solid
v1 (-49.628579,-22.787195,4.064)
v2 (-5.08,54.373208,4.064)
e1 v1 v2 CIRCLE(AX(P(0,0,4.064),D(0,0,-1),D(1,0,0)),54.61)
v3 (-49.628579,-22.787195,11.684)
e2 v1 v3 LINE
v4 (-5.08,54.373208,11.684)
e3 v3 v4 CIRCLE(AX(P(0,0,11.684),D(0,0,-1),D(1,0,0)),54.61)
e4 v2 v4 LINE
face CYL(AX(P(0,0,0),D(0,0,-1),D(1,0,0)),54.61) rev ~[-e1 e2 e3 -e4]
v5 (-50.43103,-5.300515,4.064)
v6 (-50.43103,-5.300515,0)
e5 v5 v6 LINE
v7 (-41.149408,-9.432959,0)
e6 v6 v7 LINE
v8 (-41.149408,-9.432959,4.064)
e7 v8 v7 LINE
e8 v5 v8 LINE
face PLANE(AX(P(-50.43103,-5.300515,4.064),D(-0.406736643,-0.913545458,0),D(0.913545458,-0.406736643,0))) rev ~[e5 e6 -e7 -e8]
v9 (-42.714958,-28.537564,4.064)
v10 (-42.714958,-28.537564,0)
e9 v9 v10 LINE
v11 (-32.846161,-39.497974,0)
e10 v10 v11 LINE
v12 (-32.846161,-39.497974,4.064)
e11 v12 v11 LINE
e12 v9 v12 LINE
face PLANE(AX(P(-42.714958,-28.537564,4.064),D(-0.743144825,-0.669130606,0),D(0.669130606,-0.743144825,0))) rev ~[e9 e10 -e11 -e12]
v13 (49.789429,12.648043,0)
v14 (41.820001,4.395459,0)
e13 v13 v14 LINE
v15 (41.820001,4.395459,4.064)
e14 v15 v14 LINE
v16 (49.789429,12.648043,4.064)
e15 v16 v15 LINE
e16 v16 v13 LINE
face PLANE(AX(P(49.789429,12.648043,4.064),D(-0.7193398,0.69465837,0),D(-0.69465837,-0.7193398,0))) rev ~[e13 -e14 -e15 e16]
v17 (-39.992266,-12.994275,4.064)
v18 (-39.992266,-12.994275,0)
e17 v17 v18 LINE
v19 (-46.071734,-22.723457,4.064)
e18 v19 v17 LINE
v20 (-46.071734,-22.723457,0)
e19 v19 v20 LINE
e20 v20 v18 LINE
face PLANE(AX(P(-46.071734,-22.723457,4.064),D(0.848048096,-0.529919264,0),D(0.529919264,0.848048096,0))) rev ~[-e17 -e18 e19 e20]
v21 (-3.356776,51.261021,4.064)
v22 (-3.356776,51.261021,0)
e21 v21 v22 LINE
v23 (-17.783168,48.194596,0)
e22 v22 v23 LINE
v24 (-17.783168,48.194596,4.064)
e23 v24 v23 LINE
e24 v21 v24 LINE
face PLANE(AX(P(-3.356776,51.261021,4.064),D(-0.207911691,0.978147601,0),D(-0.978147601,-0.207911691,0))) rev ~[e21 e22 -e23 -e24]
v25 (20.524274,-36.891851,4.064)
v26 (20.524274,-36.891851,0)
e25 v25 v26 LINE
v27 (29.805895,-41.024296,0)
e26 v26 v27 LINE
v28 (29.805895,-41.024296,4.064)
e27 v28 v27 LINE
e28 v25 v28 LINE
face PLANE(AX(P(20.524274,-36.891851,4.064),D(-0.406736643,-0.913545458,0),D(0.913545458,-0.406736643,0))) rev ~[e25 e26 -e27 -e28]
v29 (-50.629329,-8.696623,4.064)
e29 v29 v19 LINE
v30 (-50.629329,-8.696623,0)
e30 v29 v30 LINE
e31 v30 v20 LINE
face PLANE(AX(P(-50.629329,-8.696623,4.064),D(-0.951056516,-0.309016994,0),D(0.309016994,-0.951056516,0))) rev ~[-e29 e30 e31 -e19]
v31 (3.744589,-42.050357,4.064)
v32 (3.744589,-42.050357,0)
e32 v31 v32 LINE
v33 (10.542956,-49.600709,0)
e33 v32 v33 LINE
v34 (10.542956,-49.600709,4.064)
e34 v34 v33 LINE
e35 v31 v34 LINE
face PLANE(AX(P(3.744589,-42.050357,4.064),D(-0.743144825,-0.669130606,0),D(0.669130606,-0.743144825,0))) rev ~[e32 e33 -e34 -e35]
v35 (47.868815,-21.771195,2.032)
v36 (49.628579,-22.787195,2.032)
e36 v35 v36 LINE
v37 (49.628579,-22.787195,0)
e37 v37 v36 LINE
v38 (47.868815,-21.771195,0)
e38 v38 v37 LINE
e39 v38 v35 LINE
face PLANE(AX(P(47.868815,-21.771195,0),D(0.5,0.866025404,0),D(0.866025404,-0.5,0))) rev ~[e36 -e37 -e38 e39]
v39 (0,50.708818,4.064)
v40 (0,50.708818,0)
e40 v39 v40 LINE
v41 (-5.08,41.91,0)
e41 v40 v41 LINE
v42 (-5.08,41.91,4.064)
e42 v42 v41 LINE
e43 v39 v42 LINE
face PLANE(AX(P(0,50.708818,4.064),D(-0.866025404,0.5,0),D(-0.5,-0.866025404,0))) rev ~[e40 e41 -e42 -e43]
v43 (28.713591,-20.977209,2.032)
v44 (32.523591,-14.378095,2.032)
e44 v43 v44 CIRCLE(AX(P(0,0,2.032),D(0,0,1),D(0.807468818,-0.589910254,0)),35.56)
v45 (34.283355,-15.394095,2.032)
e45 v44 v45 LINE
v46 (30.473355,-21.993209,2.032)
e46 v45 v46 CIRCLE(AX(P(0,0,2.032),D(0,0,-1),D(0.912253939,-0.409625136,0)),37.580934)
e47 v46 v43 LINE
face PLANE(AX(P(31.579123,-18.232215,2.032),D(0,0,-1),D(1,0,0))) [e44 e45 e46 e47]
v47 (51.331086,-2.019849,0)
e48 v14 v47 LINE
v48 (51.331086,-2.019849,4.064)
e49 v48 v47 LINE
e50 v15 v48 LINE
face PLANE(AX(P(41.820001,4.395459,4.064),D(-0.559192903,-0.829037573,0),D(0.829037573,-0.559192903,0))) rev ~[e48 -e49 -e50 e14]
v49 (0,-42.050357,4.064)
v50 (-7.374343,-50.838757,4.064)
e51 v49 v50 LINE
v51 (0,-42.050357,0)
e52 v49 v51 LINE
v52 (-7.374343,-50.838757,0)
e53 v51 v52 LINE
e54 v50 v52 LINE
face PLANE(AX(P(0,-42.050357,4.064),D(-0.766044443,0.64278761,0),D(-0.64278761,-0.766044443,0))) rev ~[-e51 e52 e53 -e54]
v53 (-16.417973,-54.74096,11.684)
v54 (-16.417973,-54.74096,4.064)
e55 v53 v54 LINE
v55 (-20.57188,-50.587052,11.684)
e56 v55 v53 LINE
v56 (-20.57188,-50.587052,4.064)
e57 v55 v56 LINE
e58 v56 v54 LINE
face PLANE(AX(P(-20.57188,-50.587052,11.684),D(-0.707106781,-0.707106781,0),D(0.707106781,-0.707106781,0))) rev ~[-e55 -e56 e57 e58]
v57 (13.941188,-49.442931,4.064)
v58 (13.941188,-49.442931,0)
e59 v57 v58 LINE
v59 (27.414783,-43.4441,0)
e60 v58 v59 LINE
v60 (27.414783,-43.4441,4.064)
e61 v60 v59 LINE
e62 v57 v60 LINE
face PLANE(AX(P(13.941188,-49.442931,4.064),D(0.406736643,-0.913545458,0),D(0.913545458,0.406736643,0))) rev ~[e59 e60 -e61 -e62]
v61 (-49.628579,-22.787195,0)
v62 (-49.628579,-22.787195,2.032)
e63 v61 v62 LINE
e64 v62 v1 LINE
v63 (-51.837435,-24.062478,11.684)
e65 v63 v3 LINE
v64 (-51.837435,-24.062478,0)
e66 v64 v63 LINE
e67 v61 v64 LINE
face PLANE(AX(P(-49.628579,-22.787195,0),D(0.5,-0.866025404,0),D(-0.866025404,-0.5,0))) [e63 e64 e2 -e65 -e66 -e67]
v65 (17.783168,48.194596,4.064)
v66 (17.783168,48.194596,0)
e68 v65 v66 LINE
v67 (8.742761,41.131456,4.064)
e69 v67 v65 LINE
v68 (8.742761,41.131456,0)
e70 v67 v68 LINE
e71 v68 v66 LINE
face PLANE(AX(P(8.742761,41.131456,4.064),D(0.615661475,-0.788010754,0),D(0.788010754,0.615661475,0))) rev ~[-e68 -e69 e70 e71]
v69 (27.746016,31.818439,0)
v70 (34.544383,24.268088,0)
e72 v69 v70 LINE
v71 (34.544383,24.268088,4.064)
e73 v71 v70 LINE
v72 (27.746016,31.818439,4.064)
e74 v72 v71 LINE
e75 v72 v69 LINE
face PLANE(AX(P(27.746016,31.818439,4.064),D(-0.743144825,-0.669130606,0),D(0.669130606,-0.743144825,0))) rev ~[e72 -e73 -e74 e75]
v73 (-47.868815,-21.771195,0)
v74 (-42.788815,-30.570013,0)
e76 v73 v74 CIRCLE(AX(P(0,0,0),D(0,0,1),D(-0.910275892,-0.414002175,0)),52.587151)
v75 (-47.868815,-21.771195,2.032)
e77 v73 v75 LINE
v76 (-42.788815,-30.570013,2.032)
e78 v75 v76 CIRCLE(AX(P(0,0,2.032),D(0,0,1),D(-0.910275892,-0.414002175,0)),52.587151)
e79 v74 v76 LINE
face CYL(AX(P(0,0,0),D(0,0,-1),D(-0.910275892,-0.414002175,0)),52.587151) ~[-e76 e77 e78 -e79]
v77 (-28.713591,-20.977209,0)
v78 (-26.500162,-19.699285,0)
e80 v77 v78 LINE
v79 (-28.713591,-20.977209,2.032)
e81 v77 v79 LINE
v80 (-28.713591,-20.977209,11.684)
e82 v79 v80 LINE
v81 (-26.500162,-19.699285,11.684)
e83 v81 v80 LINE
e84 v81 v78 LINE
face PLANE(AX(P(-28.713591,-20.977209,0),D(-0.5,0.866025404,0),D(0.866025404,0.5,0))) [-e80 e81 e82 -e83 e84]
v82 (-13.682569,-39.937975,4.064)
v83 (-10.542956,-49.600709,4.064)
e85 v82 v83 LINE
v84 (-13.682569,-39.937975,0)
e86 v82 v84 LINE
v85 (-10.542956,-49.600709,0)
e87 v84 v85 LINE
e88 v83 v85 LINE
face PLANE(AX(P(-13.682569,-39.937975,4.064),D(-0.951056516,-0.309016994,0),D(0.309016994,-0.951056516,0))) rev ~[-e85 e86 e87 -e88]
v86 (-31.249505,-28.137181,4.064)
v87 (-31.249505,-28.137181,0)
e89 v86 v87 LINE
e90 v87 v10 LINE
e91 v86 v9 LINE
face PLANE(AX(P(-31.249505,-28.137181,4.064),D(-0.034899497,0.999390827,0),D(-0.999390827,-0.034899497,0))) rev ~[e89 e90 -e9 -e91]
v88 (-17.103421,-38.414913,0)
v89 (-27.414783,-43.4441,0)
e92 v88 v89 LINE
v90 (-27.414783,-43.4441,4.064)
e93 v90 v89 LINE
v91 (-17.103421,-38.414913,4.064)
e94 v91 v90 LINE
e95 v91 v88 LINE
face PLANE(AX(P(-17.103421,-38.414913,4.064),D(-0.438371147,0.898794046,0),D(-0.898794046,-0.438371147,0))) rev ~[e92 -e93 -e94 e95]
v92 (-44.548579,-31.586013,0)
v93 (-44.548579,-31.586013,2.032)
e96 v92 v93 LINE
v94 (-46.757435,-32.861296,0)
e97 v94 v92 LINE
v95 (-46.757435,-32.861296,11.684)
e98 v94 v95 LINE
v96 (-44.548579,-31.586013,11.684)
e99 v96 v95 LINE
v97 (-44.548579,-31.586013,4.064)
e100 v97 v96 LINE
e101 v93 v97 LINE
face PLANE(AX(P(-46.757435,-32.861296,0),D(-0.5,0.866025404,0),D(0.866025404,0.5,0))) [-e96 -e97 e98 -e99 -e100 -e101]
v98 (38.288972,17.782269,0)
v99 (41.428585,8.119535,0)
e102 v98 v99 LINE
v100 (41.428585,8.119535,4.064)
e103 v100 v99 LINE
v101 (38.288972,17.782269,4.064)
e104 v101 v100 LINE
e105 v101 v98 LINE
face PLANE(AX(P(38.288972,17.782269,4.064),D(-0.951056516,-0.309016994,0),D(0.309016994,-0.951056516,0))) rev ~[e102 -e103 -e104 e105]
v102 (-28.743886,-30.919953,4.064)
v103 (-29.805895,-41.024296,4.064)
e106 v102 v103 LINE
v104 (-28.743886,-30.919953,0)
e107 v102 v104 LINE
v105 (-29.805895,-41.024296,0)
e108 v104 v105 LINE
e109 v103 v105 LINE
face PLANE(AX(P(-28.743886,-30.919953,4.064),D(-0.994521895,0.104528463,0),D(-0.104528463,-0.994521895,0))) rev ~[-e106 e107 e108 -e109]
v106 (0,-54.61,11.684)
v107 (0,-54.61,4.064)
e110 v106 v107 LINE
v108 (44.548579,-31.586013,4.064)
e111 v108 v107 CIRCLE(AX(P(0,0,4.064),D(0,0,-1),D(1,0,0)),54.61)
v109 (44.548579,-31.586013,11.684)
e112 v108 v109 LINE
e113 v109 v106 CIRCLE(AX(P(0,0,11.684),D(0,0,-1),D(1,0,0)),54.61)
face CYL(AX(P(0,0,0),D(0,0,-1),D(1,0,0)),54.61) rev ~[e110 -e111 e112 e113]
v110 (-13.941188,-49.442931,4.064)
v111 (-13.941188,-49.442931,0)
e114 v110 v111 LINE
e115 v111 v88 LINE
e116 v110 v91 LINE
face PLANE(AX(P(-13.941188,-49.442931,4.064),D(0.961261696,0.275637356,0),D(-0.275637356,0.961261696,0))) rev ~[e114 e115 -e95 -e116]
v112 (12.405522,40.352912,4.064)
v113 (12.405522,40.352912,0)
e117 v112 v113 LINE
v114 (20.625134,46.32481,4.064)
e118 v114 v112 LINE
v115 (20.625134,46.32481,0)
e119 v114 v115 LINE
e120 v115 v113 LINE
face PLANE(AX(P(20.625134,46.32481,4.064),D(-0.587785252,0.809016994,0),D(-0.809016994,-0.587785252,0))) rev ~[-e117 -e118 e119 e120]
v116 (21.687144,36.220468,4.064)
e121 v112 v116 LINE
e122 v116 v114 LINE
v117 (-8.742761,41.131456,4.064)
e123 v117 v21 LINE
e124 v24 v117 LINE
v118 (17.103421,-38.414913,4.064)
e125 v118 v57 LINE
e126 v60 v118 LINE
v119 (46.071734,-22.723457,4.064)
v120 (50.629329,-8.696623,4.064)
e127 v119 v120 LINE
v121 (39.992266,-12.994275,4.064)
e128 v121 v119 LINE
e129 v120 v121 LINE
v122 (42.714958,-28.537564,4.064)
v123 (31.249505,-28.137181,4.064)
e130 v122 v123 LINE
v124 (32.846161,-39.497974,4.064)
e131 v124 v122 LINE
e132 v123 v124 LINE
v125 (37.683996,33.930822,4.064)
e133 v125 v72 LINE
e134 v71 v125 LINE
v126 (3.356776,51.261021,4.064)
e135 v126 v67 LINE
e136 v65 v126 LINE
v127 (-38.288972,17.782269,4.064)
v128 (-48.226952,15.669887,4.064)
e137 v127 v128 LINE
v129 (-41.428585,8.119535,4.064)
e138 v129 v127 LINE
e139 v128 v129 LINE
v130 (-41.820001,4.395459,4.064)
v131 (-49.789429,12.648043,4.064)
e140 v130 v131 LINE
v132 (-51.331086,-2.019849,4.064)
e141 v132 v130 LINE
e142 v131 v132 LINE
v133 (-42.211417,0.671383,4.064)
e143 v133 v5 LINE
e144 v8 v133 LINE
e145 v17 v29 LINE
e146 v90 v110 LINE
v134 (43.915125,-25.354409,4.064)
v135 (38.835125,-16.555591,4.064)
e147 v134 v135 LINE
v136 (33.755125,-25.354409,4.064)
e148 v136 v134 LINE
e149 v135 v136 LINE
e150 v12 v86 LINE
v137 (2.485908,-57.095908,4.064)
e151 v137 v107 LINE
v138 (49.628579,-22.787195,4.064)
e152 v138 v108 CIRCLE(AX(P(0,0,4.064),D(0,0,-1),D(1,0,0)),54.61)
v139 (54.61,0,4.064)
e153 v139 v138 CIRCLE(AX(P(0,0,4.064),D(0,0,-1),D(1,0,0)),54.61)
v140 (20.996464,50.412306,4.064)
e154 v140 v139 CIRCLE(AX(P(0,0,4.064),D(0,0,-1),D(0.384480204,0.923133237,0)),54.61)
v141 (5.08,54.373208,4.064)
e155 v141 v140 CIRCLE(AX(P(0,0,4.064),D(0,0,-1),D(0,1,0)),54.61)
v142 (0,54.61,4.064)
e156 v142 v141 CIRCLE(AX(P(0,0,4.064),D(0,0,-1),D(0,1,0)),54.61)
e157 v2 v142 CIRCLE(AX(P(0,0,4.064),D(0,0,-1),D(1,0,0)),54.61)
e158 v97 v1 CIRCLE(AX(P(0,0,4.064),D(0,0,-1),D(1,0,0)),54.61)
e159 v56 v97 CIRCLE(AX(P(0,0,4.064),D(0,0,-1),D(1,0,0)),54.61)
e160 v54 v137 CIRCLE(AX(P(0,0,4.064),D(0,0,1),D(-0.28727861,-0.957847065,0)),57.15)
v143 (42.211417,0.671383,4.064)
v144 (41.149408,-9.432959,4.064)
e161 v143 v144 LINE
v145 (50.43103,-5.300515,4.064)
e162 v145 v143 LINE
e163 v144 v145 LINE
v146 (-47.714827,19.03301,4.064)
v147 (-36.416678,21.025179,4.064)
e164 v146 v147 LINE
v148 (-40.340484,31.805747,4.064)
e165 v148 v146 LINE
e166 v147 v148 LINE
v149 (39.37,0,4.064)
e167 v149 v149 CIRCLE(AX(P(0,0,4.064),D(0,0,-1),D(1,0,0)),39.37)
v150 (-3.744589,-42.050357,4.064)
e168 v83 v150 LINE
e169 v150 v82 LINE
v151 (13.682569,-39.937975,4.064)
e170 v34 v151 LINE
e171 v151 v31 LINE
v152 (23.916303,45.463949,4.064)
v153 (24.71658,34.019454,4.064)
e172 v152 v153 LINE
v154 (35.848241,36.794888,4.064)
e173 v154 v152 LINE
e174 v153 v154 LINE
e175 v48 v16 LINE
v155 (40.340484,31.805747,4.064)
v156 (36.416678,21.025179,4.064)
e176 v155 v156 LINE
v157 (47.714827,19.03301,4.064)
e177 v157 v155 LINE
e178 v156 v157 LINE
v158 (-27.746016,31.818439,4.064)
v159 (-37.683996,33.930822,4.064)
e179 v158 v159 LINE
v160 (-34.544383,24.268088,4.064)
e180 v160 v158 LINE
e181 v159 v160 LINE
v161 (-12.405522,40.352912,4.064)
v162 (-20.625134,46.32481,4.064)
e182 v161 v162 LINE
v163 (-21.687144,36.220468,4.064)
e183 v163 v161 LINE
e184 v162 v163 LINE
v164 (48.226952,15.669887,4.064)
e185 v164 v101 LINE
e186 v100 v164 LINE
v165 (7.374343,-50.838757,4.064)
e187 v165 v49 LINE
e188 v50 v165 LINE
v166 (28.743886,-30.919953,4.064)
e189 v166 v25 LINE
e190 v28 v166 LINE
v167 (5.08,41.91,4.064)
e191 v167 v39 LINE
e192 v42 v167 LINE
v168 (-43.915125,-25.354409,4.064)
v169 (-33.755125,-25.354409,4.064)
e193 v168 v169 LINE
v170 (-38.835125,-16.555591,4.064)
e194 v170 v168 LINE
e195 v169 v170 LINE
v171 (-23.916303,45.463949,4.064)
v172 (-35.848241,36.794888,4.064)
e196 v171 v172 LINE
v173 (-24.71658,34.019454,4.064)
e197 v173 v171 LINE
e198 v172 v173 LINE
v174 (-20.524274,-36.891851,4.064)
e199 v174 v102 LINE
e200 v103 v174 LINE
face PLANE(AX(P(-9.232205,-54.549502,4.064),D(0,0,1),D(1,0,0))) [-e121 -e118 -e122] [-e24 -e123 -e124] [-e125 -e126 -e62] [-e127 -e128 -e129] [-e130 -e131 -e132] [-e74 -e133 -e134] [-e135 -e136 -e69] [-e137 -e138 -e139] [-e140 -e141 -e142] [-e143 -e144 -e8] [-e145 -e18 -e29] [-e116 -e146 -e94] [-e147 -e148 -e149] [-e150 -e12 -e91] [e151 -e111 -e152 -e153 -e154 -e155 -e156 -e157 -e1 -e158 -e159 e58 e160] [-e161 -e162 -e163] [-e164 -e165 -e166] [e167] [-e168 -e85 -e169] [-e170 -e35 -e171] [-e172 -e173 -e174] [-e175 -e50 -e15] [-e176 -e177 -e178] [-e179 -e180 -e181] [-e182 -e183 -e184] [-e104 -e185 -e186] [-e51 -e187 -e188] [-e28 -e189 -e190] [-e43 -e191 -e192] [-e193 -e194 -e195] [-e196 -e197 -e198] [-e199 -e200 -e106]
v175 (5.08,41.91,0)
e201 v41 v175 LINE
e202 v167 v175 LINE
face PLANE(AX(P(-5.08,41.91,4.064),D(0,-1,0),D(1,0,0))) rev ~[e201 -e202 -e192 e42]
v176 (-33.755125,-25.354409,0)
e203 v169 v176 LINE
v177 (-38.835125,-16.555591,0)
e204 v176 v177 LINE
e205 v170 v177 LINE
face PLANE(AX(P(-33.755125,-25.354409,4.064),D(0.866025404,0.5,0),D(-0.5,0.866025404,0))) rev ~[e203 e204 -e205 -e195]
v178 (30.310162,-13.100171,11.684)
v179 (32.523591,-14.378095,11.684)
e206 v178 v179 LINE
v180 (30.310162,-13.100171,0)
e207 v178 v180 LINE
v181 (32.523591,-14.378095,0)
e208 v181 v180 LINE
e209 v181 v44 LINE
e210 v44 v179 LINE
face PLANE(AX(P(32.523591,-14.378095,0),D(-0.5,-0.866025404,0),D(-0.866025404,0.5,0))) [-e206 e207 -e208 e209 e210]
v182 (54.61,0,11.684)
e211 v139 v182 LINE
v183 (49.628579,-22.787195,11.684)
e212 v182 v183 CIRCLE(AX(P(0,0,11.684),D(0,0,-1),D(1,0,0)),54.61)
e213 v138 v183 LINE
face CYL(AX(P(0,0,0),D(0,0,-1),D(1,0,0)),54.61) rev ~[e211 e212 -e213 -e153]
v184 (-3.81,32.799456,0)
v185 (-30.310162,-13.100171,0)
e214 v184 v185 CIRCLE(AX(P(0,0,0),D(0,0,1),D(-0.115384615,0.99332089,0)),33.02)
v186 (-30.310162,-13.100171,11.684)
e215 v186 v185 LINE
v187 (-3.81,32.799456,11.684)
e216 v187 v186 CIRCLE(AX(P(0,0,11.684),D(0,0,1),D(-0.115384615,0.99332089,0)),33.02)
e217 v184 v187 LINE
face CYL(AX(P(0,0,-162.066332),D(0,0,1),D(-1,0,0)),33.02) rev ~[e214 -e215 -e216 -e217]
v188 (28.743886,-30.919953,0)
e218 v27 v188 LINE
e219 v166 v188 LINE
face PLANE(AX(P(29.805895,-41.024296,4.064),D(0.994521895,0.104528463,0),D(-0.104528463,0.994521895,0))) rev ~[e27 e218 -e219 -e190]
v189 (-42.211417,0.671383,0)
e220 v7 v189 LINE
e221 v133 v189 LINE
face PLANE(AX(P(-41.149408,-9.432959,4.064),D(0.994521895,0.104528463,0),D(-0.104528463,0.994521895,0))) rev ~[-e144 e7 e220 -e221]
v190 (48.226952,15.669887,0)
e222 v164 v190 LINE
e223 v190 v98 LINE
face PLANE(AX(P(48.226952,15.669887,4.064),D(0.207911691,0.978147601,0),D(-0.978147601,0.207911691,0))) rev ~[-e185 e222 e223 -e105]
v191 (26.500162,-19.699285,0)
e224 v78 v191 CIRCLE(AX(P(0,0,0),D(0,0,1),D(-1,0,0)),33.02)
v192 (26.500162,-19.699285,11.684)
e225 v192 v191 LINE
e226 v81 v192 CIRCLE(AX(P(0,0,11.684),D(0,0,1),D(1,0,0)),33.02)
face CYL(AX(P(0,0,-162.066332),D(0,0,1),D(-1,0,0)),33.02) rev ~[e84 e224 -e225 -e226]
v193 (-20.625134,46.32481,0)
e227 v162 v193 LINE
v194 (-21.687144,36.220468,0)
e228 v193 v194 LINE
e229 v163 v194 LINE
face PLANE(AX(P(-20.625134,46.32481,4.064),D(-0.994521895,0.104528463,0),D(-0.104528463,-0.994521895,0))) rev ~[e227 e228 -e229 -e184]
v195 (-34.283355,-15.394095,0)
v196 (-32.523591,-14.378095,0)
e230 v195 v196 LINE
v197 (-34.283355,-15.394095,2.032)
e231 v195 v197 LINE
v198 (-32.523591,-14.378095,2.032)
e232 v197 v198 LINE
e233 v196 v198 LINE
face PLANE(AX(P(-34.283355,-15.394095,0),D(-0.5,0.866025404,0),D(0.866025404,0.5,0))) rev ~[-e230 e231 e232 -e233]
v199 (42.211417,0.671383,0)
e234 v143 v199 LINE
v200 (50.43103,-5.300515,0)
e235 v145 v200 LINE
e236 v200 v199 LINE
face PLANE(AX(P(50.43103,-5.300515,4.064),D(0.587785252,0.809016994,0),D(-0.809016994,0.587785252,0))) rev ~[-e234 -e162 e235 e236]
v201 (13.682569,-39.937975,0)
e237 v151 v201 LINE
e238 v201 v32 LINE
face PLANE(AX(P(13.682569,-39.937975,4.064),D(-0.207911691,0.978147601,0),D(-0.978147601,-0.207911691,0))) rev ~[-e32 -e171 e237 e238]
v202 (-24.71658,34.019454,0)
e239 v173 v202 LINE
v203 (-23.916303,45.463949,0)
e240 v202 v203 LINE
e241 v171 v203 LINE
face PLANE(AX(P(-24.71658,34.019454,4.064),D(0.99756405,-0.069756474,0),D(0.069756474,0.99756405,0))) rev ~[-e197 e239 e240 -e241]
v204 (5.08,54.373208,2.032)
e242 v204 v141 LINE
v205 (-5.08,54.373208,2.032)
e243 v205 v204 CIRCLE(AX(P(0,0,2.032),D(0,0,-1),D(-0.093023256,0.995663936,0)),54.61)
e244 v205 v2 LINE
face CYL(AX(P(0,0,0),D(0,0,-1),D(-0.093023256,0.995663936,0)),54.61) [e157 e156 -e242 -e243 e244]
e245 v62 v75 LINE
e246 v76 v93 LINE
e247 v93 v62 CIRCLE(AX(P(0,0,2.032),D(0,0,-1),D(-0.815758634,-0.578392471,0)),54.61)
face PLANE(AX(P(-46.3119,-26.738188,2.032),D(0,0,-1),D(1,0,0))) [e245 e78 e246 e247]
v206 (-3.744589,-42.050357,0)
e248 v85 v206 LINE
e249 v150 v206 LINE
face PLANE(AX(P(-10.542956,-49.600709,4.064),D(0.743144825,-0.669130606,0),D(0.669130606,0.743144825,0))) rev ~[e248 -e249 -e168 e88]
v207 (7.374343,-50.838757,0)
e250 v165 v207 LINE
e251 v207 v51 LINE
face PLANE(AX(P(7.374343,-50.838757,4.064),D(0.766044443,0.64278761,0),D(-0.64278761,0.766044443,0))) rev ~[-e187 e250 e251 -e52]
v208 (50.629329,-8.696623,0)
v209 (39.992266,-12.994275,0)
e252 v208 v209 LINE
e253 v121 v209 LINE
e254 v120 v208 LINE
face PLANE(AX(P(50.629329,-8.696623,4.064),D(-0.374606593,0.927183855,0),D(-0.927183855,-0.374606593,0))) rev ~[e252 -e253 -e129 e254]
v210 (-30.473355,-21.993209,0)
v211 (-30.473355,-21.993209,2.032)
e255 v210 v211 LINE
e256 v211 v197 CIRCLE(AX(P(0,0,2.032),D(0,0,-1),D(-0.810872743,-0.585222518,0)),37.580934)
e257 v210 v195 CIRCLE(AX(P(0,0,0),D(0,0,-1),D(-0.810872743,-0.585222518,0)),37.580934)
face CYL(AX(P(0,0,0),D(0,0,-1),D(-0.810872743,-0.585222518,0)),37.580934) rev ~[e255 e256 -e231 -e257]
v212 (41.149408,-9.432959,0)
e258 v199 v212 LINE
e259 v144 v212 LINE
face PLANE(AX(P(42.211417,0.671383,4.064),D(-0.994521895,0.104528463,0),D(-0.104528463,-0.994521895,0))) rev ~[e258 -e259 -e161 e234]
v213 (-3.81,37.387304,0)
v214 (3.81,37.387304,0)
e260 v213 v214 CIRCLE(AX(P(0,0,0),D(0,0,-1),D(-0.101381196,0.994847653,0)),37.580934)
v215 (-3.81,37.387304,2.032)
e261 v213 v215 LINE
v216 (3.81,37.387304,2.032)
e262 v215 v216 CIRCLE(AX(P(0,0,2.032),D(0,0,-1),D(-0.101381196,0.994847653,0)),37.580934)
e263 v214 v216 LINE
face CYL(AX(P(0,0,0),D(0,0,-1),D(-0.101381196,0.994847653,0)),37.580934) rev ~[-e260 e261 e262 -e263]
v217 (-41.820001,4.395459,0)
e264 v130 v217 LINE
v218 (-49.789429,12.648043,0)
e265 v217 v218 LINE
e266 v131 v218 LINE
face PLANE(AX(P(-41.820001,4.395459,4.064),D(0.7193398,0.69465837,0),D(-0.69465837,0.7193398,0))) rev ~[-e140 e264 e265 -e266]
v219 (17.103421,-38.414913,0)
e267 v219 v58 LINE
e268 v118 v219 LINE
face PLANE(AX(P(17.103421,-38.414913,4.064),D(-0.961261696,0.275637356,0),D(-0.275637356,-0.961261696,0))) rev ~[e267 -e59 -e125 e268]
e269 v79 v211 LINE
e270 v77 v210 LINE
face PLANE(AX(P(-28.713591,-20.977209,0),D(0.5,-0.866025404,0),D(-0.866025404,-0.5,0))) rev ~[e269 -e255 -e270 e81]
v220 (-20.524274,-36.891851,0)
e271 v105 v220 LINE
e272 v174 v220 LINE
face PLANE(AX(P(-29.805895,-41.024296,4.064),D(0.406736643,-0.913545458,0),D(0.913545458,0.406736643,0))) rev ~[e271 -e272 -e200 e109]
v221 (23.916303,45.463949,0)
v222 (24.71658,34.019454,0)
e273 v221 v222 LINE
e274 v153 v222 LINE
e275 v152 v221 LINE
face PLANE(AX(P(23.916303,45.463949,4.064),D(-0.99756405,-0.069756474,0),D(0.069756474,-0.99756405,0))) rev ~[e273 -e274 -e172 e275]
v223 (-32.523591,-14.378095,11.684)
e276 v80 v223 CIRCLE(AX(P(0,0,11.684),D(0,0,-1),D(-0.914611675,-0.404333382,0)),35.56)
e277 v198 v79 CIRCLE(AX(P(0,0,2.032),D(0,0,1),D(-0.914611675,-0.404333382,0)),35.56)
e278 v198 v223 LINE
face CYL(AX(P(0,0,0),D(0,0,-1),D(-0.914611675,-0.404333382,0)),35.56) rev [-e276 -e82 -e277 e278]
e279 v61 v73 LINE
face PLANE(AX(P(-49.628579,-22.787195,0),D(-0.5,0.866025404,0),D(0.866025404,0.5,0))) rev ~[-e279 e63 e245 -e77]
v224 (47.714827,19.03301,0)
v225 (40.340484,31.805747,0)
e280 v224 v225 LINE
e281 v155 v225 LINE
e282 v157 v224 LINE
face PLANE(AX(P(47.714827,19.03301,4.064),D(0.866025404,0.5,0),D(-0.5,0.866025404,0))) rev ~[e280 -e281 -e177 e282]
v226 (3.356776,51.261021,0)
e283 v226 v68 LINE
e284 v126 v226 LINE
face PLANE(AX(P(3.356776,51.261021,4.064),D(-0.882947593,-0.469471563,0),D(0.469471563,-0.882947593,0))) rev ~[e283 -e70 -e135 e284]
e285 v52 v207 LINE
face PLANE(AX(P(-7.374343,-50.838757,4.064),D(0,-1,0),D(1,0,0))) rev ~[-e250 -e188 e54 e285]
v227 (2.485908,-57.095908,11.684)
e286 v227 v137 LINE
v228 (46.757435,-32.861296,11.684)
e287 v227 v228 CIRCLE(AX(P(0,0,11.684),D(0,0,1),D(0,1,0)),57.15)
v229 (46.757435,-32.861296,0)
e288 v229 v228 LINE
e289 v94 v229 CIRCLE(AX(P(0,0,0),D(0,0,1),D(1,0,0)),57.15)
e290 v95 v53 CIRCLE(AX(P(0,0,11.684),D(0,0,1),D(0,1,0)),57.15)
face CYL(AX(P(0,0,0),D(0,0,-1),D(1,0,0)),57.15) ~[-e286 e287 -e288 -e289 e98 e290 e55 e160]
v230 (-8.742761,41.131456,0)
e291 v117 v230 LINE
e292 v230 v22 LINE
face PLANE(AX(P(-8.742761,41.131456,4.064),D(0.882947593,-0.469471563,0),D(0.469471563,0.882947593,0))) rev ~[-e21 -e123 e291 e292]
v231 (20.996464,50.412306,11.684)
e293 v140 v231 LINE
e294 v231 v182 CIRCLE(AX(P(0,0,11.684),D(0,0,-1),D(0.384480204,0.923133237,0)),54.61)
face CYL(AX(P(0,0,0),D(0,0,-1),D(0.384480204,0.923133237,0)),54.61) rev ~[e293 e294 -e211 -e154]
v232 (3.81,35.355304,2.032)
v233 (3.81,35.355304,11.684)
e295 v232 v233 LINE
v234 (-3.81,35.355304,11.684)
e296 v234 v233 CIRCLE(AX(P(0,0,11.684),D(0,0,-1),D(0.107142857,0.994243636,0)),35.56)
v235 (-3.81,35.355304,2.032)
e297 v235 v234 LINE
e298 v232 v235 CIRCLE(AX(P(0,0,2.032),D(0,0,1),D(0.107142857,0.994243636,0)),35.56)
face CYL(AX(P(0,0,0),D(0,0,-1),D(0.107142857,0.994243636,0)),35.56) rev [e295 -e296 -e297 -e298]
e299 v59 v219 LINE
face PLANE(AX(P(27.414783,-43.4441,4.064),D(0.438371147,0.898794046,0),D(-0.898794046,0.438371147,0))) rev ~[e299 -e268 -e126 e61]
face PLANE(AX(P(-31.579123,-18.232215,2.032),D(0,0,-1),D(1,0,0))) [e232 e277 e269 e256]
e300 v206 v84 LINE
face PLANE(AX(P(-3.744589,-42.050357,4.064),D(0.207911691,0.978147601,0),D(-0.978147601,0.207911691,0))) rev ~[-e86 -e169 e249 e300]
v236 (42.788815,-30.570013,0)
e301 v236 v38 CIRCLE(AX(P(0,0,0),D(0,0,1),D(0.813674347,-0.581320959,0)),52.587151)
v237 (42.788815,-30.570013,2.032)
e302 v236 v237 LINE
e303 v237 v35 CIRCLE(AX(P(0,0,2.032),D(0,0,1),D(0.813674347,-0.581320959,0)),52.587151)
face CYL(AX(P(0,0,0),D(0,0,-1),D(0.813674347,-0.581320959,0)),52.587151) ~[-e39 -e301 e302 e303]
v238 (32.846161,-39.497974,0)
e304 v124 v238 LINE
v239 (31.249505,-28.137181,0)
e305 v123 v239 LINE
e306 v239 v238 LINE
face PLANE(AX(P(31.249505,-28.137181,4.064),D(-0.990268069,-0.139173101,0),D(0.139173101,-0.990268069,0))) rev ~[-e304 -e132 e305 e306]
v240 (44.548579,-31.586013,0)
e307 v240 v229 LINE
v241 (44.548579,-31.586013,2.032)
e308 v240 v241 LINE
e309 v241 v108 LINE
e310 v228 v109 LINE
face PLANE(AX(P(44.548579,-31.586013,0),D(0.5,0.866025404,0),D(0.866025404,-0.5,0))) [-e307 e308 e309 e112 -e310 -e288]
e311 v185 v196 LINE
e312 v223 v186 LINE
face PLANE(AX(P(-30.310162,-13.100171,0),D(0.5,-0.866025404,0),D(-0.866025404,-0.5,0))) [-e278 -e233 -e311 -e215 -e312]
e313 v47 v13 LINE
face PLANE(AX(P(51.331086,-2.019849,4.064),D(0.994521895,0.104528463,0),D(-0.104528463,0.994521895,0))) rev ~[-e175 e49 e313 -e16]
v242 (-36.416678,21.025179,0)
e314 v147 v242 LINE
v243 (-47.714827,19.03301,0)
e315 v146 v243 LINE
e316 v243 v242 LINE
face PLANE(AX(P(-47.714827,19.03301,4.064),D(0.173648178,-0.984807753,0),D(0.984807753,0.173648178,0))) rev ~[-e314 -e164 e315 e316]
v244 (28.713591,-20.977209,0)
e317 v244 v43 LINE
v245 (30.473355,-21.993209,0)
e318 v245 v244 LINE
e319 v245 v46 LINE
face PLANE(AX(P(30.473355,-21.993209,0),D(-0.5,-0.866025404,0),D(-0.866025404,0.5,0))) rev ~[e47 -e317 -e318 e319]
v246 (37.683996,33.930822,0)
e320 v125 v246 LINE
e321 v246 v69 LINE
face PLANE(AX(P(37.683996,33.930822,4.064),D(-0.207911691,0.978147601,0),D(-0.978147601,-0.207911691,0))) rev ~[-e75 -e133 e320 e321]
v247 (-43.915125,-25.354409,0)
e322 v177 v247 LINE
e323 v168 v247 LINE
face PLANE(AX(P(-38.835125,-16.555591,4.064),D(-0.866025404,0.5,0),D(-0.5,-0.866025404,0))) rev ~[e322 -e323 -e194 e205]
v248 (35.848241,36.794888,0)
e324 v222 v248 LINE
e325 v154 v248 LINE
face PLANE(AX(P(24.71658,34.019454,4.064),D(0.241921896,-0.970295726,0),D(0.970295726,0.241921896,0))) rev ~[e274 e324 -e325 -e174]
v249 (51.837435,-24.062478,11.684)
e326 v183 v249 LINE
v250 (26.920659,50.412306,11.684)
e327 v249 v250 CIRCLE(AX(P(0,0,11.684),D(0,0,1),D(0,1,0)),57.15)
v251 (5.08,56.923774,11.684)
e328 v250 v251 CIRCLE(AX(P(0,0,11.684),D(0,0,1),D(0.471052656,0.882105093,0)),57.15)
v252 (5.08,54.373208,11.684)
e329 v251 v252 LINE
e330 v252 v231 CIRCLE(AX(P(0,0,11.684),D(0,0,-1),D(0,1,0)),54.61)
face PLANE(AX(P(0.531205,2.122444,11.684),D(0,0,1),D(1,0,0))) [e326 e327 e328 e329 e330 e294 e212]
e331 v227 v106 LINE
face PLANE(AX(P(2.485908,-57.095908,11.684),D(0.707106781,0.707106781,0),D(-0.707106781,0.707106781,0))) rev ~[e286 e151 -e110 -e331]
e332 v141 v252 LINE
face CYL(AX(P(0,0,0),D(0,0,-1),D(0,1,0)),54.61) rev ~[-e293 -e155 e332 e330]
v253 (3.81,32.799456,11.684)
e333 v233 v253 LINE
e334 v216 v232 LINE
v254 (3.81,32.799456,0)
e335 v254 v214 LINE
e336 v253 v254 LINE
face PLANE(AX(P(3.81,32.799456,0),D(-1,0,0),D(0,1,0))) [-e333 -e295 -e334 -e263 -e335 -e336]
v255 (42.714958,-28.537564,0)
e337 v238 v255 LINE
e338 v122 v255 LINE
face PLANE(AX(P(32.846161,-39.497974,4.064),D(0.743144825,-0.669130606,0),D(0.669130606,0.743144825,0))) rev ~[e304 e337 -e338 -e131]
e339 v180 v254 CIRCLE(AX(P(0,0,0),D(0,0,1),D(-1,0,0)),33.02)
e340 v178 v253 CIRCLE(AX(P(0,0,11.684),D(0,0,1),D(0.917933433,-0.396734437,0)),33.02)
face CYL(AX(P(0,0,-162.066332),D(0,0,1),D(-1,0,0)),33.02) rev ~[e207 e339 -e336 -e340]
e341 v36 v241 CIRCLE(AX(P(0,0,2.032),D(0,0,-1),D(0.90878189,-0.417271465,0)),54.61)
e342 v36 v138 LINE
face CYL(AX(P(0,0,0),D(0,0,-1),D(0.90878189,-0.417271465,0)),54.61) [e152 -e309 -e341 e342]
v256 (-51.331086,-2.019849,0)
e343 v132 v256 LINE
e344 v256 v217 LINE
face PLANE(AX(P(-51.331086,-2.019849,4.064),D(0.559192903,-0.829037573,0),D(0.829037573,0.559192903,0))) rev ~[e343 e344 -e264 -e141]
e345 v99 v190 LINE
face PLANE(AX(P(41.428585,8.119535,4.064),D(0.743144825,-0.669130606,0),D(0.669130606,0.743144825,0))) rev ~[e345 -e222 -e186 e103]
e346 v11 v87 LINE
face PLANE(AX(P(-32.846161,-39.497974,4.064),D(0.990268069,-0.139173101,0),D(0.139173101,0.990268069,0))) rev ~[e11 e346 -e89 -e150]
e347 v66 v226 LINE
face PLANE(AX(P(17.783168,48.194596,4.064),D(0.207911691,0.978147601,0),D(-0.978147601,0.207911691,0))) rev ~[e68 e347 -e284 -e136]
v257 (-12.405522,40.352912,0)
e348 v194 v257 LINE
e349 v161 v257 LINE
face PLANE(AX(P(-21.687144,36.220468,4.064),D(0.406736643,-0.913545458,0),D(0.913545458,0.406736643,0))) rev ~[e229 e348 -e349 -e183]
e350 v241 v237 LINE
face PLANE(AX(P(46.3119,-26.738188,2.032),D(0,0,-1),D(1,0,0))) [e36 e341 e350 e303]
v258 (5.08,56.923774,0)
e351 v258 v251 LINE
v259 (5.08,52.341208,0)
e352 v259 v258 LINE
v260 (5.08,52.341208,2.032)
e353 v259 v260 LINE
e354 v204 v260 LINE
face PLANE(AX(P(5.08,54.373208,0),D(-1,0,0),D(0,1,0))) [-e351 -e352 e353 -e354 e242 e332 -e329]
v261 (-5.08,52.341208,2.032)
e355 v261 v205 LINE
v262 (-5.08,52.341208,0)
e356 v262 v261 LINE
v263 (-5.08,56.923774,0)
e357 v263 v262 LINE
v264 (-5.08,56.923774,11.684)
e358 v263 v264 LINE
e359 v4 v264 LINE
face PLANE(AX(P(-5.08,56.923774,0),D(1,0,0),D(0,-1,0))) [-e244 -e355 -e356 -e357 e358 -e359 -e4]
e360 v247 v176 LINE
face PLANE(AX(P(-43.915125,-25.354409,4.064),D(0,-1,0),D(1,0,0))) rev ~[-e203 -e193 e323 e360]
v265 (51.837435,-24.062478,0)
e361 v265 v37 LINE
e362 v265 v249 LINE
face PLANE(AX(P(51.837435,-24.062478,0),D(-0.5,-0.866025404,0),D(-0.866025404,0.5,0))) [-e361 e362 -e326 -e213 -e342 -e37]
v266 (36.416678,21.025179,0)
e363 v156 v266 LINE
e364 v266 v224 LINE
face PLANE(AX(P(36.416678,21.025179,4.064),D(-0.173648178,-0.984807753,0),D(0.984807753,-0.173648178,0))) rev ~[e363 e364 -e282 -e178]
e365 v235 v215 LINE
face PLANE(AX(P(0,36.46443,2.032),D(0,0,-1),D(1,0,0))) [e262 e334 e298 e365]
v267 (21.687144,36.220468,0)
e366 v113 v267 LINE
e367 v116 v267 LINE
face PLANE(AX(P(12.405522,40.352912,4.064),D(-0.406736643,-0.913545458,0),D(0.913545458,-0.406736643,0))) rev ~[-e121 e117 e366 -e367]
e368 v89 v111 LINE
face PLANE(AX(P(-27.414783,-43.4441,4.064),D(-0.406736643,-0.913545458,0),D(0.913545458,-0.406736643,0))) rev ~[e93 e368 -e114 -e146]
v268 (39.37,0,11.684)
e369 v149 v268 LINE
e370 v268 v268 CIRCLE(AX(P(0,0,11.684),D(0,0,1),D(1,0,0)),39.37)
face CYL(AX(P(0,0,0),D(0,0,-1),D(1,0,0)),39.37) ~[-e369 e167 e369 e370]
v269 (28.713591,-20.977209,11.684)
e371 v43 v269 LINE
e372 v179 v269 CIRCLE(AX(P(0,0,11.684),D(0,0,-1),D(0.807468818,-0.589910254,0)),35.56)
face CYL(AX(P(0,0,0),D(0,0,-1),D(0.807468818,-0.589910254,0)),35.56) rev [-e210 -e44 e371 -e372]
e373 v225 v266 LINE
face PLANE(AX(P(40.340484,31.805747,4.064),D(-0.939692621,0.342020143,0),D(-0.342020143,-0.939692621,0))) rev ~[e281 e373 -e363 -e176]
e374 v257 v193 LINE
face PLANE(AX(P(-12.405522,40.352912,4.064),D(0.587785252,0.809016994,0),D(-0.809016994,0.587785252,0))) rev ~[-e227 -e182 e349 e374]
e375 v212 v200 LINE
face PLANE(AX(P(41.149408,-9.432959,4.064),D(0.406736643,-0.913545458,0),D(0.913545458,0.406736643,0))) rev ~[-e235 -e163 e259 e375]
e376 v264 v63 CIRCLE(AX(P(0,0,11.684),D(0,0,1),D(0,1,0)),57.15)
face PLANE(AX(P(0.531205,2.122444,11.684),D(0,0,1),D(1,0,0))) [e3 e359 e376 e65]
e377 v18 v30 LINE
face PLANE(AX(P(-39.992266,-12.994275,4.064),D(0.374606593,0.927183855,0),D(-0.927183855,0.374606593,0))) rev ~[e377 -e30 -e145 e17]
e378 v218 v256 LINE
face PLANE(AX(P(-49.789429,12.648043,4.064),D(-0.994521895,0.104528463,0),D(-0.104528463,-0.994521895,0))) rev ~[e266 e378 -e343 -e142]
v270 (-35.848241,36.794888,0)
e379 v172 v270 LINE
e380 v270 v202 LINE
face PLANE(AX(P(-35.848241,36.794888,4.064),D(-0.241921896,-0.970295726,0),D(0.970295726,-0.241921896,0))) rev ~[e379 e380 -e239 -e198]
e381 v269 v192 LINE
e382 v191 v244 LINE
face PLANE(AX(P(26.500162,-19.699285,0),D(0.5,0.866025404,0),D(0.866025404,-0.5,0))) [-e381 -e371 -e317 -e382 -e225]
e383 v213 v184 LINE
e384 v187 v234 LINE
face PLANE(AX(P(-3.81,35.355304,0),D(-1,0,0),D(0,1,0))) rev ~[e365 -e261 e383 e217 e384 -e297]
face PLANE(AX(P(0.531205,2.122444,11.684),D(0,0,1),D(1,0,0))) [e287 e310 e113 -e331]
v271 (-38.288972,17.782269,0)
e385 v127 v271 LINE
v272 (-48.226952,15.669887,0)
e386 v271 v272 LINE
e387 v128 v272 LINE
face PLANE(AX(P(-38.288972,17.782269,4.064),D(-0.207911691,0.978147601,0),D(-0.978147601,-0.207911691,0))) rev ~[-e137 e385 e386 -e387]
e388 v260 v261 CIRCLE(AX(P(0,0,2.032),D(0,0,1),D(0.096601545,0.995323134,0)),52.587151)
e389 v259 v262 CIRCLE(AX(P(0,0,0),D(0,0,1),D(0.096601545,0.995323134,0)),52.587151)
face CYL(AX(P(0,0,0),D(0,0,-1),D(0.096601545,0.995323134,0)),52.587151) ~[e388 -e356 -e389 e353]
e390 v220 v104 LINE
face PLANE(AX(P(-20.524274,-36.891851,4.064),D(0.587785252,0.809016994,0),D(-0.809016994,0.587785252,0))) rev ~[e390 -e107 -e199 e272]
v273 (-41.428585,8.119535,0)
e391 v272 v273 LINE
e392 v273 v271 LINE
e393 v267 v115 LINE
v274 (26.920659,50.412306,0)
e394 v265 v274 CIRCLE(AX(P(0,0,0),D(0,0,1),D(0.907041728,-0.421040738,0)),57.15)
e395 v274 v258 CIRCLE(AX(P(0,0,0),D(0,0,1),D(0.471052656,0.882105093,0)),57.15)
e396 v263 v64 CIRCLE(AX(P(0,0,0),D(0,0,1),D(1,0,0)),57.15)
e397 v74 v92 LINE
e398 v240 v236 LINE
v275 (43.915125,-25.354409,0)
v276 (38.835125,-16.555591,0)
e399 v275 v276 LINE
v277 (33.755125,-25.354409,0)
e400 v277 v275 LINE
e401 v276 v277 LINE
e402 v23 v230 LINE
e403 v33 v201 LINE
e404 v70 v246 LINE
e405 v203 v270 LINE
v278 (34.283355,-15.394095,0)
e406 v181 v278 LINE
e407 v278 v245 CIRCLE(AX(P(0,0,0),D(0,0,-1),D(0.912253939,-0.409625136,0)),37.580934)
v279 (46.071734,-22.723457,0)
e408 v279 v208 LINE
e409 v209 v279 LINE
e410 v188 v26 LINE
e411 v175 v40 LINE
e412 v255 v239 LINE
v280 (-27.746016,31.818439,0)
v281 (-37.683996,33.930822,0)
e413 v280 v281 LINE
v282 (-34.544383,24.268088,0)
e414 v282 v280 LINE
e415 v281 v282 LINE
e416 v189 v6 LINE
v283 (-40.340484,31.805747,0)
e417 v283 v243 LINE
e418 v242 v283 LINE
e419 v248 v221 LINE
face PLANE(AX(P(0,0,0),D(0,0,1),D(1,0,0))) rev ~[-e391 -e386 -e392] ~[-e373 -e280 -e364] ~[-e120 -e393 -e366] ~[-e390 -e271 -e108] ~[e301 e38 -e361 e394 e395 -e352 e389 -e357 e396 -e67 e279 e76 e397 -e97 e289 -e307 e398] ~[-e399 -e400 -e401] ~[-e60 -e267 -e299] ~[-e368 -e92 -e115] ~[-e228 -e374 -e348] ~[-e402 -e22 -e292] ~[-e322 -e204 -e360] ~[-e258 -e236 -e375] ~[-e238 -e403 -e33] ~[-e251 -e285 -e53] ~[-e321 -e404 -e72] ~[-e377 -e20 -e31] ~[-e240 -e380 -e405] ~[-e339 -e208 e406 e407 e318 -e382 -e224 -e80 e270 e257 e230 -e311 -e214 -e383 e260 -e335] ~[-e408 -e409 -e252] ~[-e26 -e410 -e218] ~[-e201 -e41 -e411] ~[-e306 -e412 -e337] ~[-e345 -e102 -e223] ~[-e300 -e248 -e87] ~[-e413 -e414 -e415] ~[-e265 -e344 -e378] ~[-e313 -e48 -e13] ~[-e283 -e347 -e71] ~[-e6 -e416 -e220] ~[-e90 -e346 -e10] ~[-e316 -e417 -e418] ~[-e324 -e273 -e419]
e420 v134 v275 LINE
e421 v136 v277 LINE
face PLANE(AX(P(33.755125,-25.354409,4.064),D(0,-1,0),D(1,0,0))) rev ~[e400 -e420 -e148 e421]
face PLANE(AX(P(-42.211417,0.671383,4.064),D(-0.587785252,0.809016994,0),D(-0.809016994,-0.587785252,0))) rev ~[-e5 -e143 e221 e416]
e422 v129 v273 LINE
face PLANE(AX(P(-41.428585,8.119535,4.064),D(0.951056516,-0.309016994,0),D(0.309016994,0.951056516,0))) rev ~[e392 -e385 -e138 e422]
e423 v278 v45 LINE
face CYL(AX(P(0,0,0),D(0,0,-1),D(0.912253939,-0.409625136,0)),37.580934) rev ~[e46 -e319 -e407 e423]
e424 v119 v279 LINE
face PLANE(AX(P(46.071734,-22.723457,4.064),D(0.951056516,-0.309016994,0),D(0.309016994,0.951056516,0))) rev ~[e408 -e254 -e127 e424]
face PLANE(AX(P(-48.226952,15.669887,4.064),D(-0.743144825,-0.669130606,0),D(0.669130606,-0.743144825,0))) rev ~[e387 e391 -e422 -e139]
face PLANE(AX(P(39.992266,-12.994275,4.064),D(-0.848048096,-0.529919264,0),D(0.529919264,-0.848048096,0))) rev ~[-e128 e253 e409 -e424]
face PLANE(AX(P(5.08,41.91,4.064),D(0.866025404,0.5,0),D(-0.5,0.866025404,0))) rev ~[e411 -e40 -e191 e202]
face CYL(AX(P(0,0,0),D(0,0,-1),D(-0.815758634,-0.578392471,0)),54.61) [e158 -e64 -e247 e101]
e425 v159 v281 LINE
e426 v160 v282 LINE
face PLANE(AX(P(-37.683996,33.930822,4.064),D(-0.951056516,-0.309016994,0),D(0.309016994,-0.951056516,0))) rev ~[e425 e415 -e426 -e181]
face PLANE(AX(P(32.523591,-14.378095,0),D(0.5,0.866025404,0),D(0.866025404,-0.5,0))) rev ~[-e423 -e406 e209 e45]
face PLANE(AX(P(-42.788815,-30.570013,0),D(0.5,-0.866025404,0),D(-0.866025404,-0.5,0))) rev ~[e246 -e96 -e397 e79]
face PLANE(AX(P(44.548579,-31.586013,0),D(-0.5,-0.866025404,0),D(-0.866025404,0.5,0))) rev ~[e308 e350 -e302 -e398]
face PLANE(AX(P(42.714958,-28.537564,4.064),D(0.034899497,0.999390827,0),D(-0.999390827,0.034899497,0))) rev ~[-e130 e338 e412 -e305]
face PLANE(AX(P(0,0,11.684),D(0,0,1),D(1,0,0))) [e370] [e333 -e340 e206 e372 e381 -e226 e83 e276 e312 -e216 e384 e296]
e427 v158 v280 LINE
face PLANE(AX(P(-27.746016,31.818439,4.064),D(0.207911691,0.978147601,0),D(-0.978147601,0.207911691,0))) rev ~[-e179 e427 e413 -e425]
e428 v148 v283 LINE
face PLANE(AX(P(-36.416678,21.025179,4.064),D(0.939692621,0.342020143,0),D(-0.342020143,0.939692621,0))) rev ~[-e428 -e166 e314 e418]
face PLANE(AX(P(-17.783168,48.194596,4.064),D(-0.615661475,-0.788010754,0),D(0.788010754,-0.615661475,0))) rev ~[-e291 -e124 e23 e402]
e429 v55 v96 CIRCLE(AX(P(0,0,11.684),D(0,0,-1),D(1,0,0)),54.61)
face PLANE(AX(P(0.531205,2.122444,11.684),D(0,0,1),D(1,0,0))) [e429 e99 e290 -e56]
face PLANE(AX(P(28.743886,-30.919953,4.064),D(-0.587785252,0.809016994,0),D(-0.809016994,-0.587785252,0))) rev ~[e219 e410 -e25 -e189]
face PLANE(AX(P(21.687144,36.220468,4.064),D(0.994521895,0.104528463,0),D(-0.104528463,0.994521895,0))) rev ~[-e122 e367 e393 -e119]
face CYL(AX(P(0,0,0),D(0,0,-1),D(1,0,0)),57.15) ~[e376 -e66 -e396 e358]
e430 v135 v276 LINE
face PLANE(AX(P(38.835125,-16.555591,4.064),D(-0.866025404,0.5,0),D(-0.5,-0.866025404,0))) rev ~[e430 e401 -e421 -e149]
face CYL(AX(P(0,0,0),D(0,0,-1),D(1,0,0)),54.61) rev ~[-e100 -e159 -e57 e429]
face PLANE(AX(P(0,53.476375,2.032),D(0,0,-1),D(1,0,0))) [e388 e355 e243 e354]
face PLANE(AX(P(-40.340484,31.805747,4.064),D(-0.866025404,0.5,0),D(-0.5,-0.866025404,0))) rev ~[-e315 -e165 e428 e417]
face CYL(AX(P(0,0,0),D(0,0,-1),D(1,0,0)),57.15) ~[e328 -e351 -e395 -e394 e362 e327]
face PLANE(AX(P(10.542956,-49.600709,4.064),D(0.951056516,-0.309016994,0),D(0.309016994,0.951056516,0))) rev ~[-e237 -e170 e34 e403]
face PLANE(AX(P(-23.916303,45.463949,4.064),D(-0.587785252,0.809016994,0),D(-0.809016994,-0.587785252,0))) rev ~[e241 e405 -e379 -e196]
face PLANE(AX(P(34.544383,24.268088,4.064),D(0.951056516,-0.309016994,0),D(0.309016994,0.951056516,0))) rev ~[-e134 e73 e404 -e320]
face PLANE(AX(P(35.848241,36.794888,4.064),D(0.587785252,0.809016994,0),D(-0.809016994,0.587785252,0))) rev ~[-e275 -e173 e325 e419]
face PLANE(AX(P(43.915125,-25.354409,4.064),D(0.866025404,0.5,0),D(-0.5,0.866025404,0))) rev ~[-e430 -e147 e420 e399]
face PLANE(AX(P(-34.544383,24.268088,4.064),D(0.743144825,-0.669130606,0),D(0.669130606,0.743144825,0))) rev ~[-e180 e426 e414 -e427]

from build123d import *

# Parameters (mm, degrees)
F0_R      = 57.15
F2_DEPTH  = 4.064
F1_R      = 39.37
F1_R_2    = 33.02
F3_DEPTH  = 11.684
F5_D      = 66.04
F7_DEPTH  = 11.685
F9_DEPTH  = 2.032
F11_DEPTH = 7.62
F13_DEPTH = 4.065


with BuildPart() as f2:
    # F0 (on Top) → F2 (new body)
    with BuildSketch(Plane.XY):
        Circle(F0_R)
    extrude(amount=F2_DEPTH)

    # F1 (on Top) → F3 (join)
    with BuildSketch(Plane.XY):
        with BuildLine():
            ThreePointArc((26.9206593113, 50.4123060596), (13.8755037511, 55.4399936477), (0, 57.15))
            ThreePointArc((0, 57.15), (-40.4111525448, -40.4111525448), (57.15, 0))
            ThreePointArc((57.15, 0), (49.013458252, 29.3905326624), (26.9206593113, 50.4123060596))
        make_face()
        with BuildLine():
            ThreePointArc((54.61, 0), (-38.6151013206, -38.6151013206), (0, 54.61))
            ThreePointArc((0, 54.61), (10.7059811808, 53.550294742), (20.9964639346, 50.4123060596))
            ThreePointArc((20.9964639346, 50.4123060596), (45.4360484388, 30.2955046544), (54.61, 0))
        make_face(mode=Mode.SUBTRACT)
        Circle(F1_R)
        Circle(F1_R_2, mode=Mode.SUBTRACT)
    extrude(amount=F3_DEPTH)

    # F5 (through all)
    with Locations(Plane(origin=(0, 0, 0), x_dir=(1, 0, 0), z_dir=(0, 0, -1))):
        with Locations((0, 0)):
            Hole(F5_D / 2)

    # F6 (on Top) → F7 (cut, through all)
    with BuildSketch(Plane.XY):
        with BuildLine():
            Line((-46.757434771, -32.8612962866), (-44.5485790293, -31.5860128296))
            ThreePointArc((-44.5485790293, -31.5860128296), (-47.2936473007, -27.305), (-49.6285790293, -22.7871947271))
            Line((-49.6285790293, -22.7871947271), (-51.837434771, -24.0624781842))
            ThreePointArc((-51.837434771, -24.0624781842), (-49.4933518263, -28.575), (-46.757434771, -32.8612962866))
        make_face()
        with BuildLine():
            Line((-28.7135911662, -20.9772086404), (-26.5001619429, -19.6992846825))
            ThreePointArc((-26.5001619429, -19.6992846825), (-28.596158833, -16.51), (-30.3101619429, -13.1001711057))
            Line((-30.3101619429, -13.1001711057), (-32.5235911662, -14.3780950636))
            ThreePointArc((-32.5235911662, -14.3780950636), (-30.7958633586, -17.78), (-28.7135911662, -20.9772086404))
        make_face()
        with BuildLine():
            Line((32.5235911662, -14.3780950636), (30.3101619429, -13.1001711057))
            ThreePointArc((30.3101619429, -13.1001711057), (28.596158833, -16.51), (26.5001619429, -19.6992846825))
            Line((26.5001619429, -19.6992846825), (28.7135911662, -20.9772086404))
            ThreePointArc((28.7135911662, -20.9772086404), (30.7958633586, -17.78), (32.5235911662, -14.3780950636))
        make_face()
        with BuildLine():
            Line((51.837434771, -24.0624781842), (49.6285790293, -22.7871947271))
            ThreePointArc((49.6285790293, -22.7871947271), (47.2936473007, -27.305), (44.5485790293, -31.5860128296))
            Line((44.5485790293, -31.5860128296), (46.757434771, -32.8612962866))
            ThreePointArc((46.757434771, -32.8612962866), (49.4933518263, -28.575), (51.837434771, -24.0624781842))
        make_face()
        with BuildLine():
            Line((-3.81, 35.355303704), (-3.81, 32.7994557882))
            ThreePointArc((-3.81, 32.7994557882), (0, 33.02), (3.81, 32.7994557882))
            Line((3.81, 32.7994557882), (3.81, 35.355303704))
            ThreePointArc((3.81, 35.355303704), (0, 35.56), (-3.81, 35.355303704))
        make_face()
        with BuildLine():
            ThreePointArc((5.08, 56.9237744708), (0, 57.15), (-5.08, 56.9237744708))
            Line((-5.08, 56.9237744708), (-5.08, 54.3732075567))
            ThreePointArc((-5.08, 54.3732075567), (0, 54.61), (5.08, 54.3732075567))
            Line((5.08, 54.3732075567), (5.08, 56.9237744708))
        make_face()
    extrude(amount=F7_DEPTH, mode=Mode.SUBTRACT)

    # F8 (on face) → F9 (cut)
    with BuildSketch(Plane(origin=(0, 0, 0), x_dir=(1, 0, 0), z_dir=(0, 0, -1))):
        with BuildLine():
            ThreePointArc((3.81, -35.355303704), (0, -35.56), (-3.81, -35.355303704))
            Line((-3.81, -35.355303704), (-3.81, -37.387303704))
            ThreePointArc((-3.81, -37.387303704), (0, -37.5809337065), (3.81, -37.387303704))
            Line((3.81, -37.387303704), (3.81, -35.355303704))
        make_face()
        with BuildLine():
            Line((-5.08, -52.3412075567), (-5.08, -54.3732075567))
            ThreePointArc((-5.08, -54.3732075567), (0, -54.61), (5.08, -54.3732075567))
            Line((5.08, -54.3732075567), (5.08, -52.3412075567))
            ThreePointArc((5.08, -52.3412075567), (0, -52.5871506025), (-5.08, -52.3412075567))
        make_face()
        with BuildLine():
            Line((32.5235911662, 14.3780950636), (34.2833547866, 15.3940950636))
            ThreePointArc((34.2833547866, 15.3940950636), (32.5460432878, 18.7904668533), (30.4733547866, 21.9932086404))
            Line((30.4733547866, 21.9932086404), (28.7135911662, 20.9772086404))
            ThreePointArc((28.7135911662, 20.9772086404), (30.7958633586, 17.78), (32.5235911662, 14.3780950636))
        make_face()
        with BuildLine():
            ThreePointArc((42.7888154088, 30.5700128296), (45.5418083344, 26.2935753012), (47.8688154088, 21.7711947271))
            Line((47.8688154088, 21.7711947271), (49.6285790293, 22.7871947271))
            ThreePointArc((49.6285790293, 22.7871947271), (47.2936473007, 27.305), (44.5485790293, 31.5860128296))
            Line((44.5485790293, 31.5860128296), (42.7888154088, 30.5700128296))
        make_face()
        with BuildLine():
            Line((-28.7135911662, 20.9772086404), (-30.4733547866, 21.9932086404))
            ThreePointArc((-30.4733547866, 21.9932086404), (-32.5460432878, 18.7904668533), (-34.2833547866, 15.3940950636))
            Line((-34.2833547866, 15.3940950636), (-32.5235911662, 14.3780950636))
            ThreePointArc((-32.5235911662, 14.3780950636), (-30.7958633586, 17.78), (-28.7135911662, 20.9772086404))
        make_face()
        with BuildLine():
            ThreePointArc((-47.8688154088, 21.7711947271), (-45.5418083344, 26.2935753012), (-42.7888154088, 30.5700128296))
            Line((-42.7888154088, 30.5700128296), (-44.5485790293, 31.5860128296))
            ThreePointArc((-44.5485790293, 31.5860128296), (-47.2936473007, 27.305), (-49.6285790293, 22.7871947271))
            Line((-49.6285790293, 22.7871947271), (-47.8688154088, 21.7711947271))
        make_face()
    extrude(amount=-F9_DEPTH, mode=Mode.SUBTRACT)

    # F10 (on face) → F11 (cut)
    with BuildSketch(Plane.XY.offset(11.684)):
        with BuildLine():
            Line((2.4859084286, -57.0959084286), (0, -54.61))
            ThreePointArc((0, -54.61), (-10.4807724417, -53.59482726), (-20.571880189, -50.5870521526))
            Line((-20.571880189, -50.5870521526), (-16.4179725703, -54.7409597713))
            ThreePointArc((-16.4179725703, -54.7409597713), (-7.0648459719, -56.7116429968), (2.4859084286, -57.0959084286))
        make_face()
    extrude(amount=-F11_DEPTH, mode=Mode.SUBTRACT)

    # F12 (on face) → F13 (cut, through all)
    with BuildSketch(Plane.XY.offset(4.064)):
        Polygon((0, 50.7088181024), (-5.08, 41.91), (5.08, 41.91), align=None)
        Polygon((-21.6871436361, 36.220467983), (-12.4055217865, 40.3529122766), (-20.6251344493, 46.3248104399), align=None)
        Polygon((-34.5443831161, 24.2680879991), (-27.7460161555, 31.8184394259), (-37.6839957789, 33.9308222046), align=None)
        Polygon((-41.4285849294, 8.1195351315), (-38.2889722665, 17.782269337), (-48.22695189, 15.6698865583), align=None)
        Polygon((-41.1494080415, -9.432959124), (-42.2114172283, 0.6713833329), (-50.4310298911, -5.3005148304), align=None)
        Polygon((-33.7551246726, -25.3544090512), (-38.8351246726, -16.5555909488), (-43.9151246726, -25.3544090512), align=None)
        Polygon((-20.5242735922, -36.8918513159), (-28.743886255, -30.9199531526), (-29.8058954418, -41.0242956095), align=None)
        Polygon((-3.7445891504, -42.0503573361), (-13.6825687739, -39.9379745574), (-10.5429561111, -49.600708763), align=None)
        Polygon((13.6825687739, -39.9379745574), (3.7445891504, -42.0503573361), (10.5429561111, -49.600708763), align=None)
        Polygon((28.743886255, -30.9199531526), (20.5242735922, -36.8918513159), (29.8058954418, -41.0242956095), align=None)
        Polygon((38.8351246726, -16.5555909488), (33.7551246726, -25.3544090512), (43.9151246726, -25.3544090512), align=None)
        Polygon((42.2114172283, 0.6713833329), (41.1494080415, -9.432959124), (50.4310298911, -5.3005148304), align=None)
        Polygon((38.2889722665, 17.782269337), (41.4285849294, 8.1195351315), (48.22695189, 15.6698865583), align=None)
        Polygon((27.7460161555, 31.8184394259), (34.5443831161, 24.2680879991), (37.6839957789, 33.9308222046), align=None)
        Polygon((12.4055217865, 40.3529122766), (21.6871436361, 36.220467983), (20.6251344493, 46.3248104399), align=None)
        Polygon((7.3743431986, -50.8387573361), (0, -42.0503573361), (-7.3743431986, -50.8387573361), align=None)
        Polygon((13.9411877648, -49.4429314341), (27.4147832292, -43.4441002391), (17.103421183, -38.4149129366), align=None)
        Polygon((32.846160712, -39.4979735122), (42.714958184, -28.5375635335), (31.2495054638, -28.1371811019), align=None)
        Polygon((46.0717340741, -22.7234571422), (50.6293288156, -8.6966228373), (39.992266357, -12.9942750364), align=None)
        Polygon((51.3310860662, -2.0198485962), (49.7894285419, 12.6480429538), (41.8200010788, 4.3954592322), align=None)
        Polygon((47.7148269492, 19.0330101218), (40.3404837506, 31.8057472143), (36.4166776913, 21.0251786681), align=None)
        Polygon((35.8482407771, 36.7948884803), (23.916302837, 45.4639488353), (24.7165798958, 34.0194537045), align=None)
        Polygon((17.7831681036, 48.1945963495), (3.3567758901, 51.2610206757), (8.7427608932, 41.1314561383), align=None)
        Polygon((-3.3567758901, 51.2610206757), (-17.7831681036, 48.1945963495), (-8.7427608932, 41.1314561383), align=None)
        Polygon((-23.916302837, 45.4639488353), (-35.8482407771, 36.7948884803), (-24.7165798958, 34.0194537045), align=None)
        Polygon((-40.3404837506, 31.8057472143), (-47.7148269492, 19.0330101218), (-36.4166776913, 21.0251786681), align=None)
        Polygon((-49.7894285419, 12.6480429538), (-51.3310860662, -2.0198485962), (-41.8200010788, 4.3954592322), align=None)
        Polygon((-50.6293288156, -8.6966228373), (-46.0717340741, -22.7234571422), (-39.992266357, -12.9942750364), align=None)
        Polygon((-42.714958184, -28.5375635335), (-32.846160712, -39.4979735122), (-31.2495054638, -28.1371811019), align=None)
        Polygon((-27.4147832292, -43.4441002391), (-13.9411877648, -49.4429314341), (-17.103421183, -38.4149129366), align=None)
    extrude(amount=-F13_DEPTH, mode=Mode.SUBTRACT)


solid = f2.part
